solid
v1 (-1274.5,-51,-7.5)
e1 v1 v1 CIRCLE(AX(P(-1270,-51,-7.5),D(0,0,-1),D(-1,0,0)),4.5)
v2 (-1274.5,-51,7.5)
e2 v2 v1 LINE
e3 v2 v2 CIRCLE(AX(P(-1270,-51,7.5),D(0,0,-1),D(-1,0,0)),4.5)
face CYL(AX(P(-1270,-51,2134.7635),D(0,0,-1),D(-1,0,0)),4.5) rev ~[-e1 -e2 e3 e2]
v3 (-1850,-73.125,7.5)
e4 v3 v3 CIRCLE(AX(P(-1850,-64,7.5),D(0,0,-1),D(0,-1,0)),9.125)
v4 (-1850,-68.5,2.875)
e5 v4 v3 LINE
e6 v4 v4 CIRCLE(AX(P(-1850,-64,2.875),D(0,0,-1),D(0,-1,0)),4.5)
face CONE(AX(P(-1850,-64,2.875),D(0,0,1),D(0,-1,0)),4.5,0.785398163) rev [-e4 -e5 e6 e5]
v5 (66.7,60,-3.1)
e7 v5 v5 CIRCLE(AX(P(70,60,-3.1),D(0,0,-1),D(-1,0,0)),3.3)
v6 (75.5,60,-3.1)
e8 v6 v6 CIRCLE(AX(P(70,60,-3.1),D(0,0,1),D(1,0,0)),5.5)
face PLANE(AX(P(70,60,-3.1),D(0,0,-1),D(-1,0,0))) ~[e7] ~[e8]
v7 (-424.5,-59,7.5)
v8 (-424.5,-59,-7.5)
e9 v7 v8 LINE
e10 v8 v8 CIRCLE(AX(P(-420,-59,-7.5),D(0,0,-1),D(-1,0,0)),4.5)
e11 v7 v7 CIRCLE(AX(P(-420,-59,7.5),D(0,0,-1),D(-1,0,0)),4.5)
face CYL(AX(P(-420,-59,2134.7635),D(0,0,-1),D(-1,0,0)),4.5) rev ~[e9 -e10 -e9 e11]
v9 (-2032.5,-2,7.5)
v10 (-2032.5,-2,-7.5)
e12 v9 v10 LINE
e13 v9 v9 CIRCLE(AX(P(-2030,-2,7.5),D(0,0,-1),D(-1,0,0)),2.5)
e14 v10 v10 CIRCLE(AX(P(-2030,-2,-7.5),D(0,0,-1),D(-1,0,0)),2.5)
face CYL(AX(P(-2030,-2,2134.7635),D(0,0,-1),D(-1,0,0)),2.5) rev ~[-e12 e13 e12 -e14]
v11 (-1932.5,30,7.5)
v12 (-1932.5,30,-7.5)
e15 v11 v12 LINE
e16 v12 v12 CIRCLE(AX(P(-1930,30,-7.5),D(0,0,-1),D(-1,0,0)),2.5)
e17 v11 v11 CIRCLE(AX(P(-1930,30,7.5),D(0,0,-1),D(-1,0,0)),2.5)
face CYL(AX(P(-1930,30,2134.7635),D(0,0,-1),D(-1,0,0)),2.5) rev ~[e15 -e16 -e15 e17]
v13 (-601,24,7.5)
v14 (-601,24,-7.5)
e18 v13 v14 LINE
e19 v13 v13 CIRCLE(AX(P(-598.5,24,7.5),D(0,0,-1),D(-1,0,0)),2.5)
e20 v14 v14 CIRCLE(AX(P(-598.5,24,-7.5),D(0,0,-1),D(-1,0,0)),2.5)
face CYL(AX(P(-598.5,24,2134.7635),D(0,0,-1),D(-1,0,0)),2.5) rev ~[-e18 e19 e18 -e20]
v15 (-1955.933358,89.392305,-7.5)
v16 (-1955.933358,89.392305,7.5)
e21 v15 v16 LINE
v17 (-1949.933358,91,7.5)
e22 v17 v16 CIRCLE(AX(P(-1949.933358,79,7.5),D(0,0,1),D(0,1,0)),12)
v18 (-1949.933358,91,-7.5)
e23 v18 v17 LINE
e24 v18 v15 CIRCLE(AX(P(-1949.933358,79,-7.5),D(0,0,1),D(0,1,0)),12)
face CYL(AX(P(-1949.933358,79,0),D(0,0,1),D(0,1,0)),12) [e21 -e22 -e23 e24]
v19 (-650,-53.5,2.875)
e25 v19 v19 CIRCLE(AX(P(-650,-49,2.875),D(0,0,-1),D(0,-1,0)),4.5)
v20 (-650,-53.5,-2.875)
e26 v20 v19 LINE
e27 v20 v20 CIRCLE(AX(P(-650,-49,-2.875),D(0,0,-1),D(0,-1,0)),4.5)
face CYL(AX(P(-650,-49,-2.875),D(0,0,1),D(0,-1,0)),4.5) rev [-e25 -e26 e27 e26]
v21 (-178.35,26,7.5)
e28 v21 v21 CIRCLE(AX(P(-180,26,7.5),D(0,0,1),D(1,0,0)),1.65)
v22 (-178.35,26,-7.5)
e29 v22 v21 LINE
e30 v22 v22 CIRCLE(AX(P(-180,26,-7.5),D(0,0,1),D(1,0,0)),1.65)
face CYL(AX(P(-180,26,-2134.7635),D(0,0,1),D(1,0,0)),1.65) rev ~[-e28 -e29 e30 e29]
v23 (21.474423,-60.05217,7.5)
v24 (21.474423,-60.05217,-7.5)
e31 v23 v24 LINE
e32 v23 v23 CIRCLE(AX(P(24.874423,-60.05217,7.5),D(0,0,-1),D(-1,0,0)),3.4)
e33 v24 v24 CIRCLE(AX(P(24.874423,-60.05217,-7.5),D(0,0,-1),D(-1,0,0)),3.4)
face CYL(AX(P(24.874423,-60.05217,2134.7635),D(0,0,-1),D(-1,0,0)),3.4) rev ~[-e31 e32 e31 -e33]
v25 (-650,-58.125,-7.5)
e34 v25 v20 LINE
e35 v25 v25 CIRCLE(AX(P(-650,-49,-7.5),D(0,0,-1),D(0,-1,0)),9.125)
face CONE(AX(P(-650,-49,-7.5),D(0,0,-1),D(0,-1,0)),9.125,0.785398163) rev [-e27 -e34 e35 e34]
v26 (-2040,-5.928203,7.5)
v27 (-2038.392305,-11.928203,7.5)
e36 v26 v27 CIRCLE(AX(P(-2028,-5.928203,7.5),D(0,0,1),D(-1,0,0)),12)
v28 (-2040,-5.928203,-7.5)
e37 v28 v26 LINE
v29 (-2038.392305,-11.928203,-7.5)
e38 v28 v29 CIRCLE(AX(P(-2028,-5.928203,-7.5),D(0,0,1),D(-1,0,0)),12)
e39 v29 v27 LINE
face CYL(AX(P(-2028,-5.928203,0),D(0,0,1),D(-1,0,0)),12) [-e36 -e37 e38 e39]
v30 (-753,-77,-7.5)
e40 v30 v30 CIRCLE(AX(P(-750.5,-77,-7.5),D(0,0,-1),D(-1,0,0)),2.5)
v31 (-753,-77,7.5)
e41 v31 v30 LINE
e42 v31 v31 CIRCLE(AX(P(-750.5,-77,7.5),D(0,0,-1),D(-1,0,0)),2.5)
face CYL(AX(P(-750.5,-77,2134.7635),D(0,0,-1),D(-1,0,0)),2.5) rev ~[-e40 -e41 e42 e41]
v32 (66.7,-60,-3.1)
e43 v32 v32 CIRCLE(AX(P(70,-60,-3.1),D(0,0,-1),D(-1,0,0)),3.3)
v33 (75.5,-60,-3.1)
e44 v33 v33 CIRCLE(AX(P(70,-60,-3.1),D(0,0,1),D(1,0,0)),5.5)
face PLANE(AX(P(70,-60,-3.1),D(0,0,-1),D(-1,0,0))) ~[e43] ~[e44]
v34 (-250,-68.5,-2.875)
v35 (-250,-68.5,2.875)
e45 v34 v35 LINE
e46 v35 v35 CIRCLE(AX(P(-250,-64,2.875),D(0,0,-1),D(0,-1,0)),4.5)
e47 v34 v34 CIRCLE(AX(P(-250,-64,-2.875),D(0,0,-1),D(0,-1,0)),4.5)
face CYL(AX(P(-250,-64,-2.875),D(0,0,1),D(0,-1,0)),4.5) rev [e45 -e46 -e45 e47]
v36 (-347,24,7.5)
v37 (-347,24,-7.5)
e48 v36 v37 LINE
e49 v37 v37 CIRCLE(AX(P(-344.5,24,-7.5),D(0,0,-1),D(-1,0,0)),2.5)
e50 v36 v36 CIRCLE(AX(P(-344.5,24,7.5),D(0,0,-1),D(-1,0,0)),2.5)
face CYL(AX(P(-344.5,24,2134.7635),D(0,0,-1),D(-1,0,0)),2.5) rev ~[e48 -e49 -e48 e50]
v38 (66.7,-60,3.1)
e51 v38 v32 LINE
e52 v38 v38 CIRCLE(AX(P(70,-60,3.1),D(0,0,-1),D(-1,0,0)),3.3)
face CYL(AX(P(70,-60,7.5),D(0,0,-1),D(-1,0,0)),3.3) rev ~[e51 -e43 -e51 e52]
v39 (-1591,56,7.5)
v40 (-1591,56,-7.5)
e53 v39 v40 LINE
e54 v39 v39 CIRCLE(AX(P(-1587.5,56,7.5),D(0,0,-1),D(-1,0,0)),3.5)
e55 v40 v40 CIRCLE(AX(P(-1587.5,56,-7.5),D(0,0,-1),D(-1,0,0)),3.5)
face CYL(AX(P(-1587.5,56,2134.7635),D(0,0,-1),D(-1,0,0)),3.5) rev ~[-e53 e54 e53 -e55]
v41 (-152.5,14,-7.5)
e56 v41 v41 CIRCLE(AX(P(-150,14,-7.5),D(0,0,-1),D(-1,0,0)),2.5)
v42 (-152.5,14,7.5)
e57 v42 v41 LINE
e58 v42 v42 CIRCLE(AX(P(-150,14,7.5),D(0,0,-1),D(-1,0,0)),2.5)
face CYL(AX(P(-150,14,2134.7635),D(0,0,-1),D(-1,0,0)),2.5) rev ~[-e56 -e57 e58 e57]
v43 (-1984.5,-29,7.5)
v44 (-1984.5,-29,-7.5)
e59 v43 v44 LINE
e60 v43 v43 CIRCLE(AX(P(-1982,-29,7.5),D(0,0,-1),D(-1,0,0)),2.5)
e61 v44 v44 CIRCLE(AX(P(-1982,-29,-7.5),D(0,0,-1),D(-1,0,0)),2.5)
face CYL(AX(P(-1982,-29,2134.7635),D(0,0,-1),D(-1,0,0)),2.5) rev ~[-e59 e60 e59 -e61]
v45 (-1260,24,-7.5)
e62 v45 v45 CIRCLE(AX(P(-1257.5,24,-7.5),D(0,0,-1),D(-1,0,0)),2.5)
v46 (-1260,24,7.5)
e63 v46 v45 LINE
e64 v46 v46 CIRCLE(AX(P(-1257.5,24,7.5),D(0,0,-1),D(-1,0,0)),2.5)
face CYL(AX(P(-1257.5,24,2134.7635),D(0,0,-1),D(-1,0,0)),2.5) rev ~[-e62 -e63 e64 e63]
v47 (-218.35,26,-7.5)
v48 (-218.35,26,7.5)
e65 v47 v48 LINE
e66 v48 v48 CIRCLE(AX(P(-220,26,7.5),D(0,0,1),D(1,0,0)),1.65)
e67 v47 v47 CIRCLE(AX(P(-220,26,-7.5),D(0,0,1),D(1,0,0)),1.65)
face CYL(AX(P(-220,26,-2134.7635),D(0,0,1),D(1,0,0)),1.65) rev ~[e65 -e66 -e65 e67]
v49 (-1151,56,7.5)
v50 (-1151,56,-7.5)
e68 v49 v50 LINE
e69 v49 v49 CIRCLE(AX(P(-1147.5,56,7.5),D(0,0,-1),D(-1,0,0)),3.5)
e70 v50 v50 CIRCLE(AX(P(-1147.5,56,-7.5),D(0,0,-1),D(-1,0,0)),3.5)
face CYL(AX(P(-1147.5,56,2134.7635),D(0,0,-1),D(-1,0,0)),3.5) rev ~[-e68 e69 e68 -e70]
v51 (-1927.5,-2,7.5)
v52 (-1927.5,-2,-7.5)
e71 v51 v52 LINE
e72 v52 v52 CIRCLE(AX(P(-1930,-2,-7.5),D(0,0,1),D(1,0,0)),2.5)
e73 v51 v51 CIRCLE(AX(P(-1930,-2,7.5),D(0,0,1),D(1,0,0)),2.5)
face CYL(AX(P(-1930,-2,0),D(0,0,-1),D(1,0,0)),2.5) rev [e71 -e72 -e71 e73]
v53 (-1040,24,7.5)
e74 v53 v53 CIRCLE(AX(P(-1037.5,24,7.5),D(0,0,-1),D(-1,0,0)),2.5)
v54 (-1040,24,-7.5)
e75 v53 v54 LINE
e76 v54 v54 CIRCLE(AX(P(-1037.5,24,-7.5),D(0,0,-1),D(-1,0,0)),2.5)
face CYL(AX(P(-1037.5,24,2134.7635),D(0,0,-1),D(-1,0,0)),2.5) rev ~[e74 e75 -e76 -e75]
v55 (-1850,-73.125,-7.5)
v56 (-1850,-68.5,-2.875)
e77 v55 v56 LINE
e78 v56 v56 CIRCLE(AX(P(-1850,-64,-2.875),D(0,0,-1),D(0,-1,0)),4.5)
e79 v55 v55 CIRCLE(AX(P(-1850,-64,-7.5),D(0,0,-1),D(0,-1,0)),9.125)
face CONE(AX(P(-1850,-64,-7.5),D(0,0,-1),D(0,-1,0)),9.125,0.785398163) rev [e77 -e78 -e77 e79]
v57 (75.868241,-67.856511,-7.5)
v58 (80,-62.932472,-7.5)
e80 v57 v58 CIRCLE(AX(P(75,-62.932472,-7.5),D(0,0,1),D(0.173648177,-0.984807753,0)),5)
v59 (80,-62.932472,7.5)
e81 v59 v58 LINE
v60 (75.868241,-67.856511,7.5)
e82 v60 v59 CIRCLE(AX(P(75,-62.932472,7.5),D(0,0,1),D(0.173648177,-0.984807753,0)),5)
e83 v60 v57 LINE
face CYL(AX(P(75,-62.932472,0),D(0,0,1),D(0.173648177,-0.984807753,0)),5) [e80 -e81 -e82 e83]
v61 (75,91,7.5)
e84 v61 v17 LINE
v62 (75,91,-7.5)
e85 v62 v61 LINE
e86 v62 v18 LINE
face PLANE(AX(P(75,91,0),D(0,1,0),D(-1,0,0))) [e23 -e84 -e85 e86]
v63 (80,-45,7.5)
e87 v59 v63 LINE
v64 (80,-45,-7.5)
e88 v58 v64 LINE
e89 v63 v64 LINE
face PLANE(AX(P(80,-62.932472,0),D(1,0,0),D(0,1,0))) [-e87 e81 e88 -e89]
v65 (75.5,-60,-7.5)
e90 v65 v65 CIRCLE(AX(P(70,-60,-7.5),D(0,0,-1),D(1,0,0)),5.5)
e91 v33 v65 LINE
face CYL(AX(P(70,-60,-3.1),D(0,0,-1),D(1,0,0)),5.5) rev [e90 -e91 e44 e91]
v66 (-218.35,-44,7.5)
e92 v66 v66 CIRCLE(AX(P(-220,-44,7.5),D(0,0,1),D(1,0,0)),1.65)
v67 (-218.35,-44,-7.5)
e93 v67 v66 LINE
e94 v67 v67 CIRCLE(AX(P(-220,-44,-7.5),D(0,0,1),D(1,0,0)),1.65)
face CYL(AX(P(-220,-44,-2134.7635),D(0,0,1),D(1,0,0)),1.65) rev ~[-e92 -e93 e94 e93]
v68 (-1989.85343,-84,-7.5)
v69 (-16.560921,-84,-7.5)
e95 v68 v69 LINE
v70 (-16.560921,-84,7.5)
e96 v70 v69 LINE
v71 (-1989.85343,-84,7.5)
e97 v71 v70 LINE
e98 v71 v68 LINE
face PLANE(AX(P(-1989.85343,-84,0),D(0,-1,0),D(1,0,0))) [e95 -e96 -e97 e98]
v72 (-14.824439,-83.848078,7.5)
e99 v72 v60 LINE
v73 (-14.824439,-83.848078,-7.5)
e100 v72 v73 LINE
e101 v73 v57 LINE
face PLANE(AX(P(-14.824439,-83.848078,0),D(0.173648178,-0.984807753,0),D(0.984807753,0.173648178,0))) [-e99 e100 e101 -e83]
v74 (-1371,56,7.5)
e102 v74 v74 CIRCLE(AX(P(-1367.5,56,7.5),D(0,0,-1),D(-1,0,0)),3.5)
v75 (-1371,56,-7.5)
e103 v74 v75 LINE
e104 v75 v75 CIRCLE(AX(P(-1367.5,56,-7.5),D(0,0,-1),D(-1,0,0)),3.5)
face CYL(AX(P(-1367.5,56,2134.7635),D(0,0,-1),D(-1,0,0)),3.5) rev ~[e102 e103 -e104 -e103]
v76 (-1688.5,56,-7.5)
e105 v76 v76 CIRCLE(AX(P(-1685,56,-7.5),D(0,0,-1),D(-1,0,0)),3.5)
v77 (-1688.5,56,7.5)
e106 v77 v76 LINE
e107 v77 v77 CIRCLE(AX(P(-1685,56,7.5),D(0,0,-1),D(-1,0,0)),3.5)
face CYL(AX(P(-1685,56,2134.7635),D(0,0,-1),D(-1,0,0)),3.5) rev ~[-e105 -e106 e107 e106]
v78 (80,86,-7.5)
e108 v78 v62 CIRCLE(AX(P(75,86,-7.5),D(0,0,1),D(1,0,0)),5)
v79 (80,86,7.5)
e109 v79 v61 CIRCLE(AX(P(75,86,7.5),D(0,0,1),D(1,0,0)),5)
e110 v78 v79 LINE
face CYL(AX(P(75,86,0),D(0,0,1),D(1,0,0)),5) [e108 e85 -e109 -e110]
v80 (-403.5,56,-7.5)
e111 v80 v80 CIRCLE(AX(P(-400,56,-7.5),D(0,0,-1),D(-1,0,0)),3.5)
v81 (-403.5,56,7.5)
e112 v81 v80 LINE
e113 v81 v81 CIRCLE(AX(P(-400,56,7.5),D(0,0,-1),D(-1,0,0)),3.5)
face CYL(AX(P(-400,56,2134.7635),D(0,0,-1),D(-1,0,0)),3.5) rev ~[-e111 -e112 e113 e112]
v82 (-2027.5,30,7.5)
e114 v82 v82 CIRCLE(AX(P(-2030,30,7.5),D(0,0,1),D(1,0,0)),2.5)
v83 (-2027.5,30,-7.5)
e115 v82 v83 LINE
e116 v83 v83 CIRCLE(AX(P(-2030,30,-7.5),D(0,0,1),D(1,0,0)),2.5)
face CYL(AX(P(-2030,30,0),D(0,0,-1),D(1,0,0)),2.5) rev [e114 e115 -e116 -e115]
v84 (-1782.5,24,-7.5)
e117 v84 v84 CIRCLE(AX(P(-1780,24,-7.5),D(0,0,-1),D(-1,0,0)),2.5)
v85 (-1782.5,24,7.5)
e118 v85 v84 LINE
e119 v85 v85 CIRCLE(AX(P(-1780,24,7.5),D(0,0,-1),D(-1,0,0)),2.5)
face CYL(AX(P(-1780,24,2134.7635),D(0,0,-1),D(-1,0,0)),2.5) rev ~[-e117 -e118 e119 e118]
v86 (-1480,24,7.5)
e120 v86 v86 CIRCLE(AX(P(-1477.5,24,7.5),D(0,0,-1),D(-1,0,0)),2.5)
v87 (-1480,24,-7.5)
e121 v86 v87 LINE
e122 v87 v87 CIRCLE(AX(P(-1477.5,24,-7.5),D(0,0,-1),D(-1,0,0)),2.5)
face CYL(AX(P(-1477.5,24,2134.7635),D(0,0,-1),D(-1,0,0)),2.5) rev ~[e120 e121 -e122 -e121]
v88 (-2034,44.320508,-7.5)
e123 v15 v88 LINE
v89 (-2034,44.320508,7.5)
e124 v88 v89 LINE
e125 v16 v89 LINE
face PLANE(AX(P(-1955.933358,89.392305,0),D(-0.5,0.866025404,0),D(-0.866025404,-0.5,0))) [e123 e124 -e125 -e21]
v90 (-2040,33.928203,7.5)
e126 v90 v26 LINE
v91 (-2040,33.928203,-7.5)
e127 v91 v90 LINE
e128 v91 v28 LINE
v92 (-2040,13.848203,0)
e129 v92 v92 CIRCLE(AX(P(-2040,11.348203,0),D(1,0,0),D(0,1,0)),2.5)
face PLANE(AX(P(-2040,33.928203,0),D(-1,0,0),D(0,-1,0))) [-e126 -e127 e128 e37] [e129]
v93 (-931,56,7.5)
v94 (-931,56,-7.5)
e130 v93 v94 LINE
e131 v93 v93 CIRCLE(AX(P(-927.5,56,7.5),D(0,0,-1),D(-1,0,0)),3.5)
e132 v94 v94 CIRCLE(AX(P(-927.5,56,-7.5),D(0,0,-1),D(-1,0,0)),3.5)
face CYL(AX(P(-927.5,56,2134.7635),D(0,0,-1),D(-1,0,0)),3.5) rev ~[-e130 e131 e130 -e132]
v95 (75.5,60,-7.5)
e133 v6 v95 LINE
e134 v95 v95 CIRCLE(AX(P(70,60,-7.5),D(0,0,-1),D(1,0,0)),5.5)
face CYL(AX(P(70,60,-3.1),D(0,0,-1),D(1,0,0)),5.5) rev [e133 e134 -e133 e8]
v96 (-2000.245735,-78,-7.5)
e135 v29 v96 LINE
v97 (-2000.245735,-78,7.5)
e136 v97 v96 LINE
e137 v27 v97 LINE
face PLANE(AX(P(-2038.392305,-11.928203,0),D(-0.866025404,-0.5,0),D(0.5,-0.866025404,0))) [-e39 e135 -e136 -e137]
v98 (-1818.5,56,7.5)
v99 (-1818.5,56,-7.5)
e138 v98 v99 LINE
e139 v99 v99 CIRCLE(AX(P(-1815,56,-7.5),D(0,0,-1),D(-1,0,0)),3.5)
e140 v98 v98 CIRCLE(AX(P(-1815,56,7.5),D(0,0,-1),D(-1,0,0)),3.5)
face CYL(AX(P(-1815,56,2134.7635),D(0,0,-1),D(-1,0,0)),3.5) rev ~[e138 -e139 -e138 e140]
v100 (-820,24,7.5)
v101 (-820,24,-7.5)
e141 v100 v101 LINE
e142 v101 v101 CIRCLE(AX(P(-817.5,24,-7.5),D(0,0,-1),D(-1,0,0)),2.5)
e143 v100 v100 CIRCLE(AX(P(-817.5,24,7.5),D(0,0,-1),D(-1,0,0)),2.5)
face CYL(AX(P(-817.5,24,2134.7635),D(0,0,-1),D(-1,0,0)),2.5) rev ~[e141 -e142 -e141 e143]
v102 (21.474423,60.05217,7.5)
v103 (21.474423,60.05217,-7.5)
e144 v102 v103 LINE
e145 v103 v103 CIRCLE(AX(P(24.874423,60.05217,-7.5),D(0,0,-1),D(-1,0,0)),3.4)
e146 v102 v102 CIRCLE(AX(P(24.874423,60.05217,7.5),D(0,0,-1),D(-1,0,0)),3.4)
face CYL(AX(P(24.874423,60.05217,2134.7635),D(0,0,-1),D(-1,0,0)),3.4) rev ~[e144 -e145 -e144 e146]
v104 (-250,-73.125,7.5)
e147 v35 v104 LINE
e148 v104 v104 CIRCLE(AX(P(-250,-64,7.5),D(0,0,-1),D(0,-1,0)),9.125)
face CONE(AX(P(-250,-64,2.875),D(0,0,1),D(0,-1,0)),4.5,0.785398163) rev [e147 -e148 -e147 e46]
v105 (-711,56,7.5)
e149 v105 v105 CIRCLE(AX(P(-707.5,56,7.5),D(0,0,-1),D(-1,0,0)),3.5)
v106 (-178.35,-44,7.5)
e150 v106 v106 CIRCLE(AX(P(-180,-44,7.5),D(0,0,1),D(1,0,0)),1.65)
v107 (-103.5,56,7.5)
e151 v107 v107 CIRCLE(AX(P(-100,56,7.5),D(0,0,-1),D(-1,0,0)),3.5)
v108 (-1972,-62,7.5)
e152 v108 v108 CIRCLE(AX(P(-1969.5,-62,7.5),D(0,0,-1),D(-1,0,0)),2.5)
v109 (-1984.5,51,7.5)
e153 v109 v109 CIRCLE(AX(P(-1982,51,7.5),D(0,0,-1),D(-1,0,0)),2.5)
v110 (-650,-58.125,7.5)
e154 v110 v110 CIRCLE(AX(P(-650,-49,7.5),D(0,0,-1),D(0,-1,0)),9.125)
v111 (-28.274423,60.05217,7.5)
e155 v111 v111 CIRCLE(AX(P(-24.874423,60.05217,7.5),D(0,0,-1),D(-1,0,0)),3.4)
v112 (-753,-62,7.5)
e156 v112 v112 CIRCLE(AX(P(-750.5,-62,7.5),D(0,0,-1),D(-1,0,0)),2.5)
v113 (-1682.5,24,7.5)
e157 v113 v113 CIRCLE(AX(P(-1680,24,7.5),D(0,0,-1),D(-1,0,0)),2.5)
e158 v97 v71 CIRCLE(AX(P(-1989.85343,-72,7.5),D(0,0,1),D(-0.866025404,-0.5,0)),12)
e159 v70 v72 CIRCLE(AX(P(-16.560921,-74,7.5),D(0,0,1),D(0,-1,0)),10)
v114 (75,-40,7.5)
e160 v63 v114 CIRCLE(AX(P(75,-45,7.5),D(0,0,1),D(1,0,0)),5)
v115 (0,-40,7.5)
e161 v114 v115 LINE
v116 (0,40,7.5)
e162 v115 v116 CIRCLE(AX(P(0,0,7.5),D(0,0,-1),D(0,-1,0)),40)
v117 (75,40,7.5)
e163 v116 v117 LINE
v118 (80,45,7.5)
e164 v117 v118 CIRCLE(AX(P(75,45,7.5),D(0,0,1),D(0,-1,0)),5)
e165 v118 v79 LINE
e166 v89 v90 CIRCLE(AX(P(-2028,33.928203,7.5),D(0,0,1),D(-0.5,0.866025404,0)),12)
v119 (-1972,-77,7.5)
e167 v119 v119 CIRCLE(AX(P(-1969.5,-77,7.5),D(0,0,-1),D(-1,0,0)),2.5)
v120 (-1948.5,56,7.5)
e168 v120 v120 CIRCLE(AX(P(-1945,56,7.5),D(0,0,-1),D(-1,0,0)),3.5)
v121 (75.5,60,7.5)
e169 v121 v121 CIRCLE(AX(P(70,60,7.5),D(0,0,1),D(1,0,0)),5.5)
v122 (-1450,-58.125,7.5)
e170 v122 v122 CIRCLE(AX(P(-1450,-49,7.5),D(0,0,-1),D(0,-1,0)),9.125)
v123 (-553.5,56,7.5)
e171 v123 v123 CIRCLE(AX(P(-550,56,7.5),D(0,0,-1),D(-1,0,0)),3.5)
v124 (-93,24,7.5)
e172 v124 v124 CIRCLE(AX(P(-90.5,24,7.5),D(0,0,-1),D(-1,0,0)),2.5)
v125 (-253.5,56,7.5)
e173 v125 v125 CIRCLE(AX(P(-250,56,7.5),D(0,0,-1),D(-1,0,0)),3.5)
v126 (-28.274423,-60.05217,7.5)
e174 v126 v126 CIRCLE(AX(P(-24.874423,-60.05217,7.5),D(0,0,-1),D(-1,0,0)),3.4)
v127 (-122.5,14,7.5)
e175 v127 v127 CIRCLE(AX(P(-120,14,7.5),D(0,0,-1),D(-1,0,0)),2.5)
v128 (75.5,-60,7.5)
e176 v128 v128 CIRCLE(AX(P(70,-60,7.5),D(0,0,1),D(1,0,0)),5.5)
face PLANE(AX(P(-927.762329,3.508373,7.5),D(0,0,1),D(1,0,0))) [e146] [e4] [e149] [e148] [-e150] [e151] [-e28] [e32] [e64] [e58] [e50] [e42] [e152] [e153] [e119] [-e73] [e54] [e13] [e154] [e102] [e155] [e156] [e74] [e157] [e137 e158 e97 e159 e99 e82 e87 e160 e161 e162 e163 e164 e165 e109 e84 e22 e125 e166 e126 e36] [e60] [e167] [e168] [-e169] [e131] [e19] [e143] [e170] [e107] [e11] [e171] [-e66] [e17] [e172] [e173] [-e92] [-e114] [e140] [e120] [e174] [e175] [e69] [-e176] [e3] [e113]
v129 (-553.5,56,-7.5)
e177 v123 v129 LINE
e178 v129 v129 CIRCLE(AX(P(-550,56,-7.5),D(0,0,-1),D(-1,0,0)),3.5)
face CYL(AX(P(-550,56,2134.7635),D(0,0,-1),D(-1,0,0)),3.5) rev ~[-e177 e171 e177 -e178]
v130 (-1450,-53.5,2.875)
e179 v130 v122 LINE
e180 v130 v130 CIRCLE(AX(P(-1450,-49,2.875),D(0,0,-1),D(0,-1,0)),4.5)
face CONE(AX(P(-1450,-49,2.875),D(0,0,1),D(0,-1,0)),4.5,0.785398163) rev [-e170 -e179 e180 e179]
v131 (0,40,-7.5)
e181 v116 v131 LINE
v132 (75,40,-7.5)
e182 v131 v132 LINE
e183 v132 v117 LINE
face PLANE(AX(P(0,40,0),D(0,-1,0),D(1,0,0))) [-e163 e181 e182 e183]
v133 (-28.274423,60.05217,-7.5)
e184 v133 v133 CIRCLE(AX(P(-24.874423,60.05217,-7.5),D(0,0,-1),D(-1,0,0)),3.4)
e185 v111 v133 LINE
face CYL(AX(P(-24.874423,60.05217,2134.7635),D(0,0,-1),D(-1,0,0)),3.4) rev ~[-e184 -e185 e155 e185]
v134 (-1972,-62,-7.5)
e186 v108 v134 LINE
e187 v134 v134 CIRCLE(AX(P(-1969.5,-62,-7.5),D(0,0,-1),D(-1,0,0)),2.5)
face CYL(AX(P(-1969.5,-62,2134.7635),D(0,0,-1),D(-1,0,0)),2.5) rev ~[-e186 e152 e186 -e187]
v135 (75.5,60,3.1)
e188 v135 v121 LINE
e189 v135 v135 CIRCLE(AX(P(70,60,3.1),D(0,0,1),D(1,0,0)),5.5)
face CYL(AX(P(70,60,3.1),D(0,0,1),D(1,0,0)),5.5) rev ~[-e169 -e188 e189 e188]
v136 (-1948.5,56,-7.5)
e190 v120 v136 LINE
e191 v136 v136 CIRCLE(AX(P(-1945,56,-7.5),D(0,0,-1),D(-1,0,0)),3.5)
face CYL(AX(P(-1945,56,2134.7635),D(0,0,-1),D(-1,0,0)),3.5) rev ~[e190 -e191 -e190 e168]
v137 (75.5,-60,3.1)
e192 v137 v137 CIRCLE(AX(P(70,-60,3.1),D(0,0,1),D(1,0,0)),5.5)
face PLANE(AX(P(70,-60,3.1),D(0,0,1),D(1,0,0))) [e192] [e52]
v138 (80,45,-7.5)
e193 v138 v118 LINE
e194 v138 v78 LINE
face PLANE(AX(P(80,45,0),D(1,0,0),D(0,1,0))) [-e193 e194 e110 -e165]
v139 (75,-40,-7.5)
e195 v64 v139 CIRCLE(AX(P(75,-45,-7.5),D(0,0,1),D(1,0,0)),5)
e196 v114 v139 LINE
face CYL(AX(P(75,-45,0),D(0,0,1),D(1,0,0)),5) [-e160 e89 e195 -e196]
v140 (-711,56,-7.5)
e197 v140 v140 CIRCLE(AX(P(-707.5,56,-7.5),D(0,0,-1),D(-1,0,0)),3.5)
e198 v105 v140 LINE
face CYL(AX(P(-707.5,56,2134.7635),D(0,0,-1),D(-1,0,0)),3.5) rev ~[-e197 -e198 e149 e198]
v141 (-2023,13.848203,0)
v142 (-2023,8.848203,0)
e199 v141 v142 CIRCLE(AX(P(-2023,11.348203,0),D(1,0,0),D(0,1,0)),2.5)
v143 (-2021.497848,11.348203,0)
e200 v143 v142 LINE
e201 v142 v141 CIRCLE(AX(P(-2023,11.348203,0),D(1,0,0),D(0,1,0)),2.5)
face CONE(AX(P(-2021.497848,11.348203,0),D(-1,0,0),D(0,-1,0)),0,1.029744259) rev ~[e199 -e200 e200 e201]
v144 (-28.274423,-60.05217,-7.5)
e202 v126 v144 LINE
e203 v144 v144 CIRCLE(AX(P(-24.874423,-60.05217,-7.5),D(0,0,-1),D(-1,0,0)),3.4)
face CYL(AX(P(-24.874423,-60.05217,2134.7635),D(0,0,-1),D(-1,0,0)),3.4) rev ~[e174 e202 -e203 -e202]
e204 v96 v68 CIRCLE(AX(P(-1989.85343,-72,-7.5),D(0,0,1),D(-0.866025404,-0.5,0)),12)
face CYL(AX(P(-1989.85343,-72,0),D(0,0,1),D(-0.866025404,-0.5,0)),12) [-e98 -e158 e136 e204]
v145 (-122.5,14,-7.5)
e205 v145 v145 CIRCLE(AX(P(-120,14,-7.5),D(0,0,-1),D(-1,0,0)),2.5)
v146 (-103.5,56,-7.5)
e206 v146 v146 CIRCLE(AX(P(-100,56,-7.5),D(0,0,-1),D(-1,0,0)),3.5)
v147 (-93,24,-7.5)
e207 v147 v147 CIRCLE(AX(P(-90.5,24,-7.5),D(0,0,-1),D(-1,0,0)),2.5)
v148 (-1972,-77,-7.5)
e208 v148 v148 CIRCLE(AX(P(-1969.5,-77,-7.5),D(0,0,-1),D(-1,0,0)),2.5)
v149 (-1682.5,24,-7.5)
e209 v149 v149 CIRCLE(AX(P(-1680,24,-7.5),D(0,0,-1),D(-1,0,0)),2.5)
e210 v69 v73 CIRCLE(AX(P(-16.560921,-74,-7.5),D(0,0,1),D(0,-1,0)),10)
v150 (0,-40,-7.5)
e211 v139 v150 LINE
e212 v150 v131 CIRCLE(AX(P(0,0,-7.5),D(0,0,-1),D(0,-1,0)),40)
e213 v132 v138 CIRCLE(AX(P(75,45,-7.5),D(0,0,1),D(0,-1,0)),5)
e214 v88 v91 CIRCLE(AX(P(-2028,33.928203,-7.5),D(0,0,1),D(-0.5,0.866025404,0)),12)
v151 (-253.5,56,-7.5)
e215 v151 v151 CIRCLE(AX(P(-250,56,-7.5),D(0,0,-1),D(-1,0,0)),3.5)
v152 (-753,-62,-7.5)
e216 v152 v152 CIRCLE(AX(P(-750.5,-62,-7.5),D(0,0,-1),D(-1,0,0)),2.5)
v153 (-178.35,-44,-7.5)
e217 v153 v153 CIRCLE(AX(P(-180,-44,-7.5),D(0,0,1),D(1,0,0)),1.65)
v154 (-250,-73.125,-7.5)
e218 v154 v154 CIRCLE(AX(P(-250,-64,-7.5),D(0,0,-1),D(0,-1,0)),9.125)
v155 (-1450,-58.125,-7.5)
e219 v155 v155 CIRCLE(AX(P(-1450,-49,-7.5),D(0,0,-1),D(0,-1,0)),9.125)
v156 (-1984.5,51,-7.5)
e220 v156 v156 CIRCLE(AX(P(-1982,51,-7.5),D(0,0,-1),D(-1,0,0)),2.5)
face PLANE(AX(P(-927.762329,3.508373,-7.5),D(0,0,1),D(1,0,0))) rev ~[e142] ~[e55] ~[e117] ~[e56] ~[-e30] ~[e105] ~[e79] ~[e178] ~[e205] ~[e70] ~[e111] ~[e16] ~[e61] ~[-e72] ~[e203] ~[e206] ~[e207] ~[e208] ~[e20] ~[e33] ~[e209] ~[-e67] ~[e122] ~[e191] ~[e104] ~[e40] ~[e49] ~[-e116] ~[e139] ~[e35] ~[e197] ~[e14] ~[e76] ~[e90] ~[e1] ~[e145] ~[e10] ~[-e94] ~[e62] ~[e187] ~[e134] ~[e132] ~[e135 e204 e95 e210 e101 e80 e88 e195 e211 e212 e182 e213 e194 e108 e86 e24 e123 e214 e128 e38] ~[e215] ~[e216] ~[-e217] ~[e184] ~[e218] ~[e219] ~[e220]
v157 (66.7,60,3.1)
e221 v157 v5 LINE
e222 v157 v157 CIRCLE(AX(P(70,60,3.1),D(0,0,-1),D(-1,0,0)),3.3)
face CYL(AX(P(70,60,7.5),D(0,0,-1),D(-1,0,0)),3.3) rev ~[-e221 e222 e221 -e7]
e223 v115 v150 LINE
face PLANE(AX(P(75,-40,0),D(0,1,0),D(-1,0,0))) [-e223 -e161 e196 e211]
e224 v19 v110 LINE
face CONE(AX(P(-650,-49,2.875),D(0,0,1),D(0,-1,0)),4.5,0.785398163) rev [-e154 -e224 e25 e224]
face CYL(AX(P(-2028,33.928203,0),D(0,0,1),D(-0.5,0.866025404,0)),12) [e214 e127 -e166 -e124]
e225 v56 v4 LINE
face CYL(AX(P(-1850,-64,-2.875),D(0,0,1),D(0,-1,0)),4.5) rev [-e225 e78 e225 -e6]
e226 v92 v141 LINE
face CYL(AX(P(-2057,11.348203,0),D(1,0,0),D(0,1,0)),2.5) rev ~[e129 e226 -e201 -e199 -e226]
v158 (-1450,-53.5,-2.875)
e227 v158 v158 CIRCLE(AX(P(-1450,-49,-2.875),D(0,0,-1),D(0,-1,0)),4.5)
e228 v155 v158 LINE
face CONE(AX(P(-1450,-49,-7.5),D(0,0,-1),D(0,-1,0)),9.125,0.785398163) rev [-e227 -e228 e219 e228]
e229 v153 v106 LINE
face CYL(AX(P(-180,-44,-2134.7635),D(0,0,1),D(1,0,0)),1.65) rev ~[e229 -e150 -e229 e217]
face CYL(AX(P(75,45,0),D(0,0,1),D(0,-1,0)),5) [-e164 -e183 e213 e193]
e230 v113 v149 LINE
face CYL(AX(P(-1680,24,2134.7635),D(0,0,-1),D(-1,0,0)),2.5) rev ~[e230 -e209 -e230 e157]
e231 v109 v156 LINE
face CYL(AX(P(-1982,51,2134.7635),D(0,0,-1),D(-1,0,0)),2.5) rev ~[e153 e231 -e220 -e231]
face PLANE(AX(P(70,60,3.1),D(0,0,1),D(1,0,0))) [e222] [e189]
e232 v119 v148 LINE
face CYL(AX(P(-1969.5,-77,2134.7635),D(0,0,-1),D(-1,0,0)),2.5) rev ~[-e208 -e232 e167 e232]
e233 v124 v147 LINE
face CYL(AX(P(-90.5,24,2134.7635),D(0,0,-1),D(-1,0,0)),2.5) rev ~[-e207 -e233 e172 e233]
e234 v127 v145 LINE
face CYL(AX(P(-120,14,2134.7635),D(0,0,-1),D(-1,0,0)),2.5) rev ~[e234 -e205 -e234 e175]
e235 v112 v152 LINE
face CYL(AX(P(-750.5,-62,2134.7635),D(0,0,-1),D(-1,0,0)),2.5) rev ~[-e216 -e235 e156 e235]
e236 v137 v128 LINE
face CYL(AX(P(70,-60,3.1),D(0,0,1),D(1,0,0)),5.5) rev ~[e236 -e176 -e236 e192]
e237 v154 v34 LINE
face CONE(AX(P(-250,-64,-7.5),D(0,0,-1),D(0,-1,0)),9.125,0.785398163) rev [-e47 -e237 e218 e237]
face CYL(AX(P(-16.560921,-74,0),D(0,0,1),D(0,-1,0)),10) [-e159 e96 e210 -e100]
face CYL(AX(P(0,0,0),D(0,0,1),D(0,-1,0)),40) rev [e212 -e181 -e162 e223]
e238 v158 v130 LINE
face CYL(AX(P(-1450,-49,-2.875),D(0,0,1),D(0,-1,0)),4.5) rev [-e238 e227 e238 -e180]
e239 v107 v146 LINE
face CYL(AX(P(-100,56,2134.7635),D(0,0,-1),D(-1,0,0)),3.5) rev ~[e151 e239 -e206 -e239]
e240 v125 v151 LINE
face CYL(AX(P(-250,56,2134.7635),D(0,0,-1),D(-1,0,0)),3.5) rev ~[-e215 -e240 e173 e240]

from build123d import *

# Parameters (mm, degrees)
SKIZZE1_R                                            = 2.5
AUFSATZ_LINEAR_AUSTRAGEN1_DEPTH                      = 7.5
M6_GEWINDEBOHRUNG1_D                                 = 5
M8_GEWINDEBOHRUNG1_D                                 = 6.8
FORMSENKUNG_F_R_M8_SENKSCHRAUBE_MIT_2_COUNT          = 2
FORMSENKUNG_F_R_M8_SENKSCHRAUBE_MIT_2_PITCH          = 800
FORMSENKUNG_F_R_M8_SENKSCHRAUBE_MIT_3_COUNT          = 2
FORMSENKUNG_F_R_M8_SENKSCHRAUBE_MIT_3_PITCH          = 1200.093746338
FORMSENKUNG_F_R_M8_SENKSCHRAUBE_MIT_4_COUNT          = 2
FORMSENKUNG_F_R_M8_SENKSCHRAUBE_MIT_4_PITCH          = 400.281151193
F_5_0_5_DURCHMESSER_BOHRUNG1_D                       = 5
STIRNSENKUNG_F_R_M6_ZYLINDERSCHRAUBE_MIT_D           = 6.6
STIRNSENKUNG_F_R_M6_ZYLINDERSCHRAUBE_MIT_CBORE_D     = 11
STIRNSENKUNG_F_R_M6_ZYLINDERSCHRAUBE_MIT_CBORE_DEPTH = 4.4
F_7_0_7_DURCHMESSER_BOHRUNG1_D                       = 7
F_9_0_9_DURCHMESSER_BOHRUNG1_D                       = 9
M6_GEWINDEBOHRUNG2_D                                 = 5
M6_GEWINDEBOHRUNG2_DEPTH                             = 17
M6_GEWINDEBOHRUNG2_TIP                               = 1.502151548
M4_GEWINDEBOHRUNG1_D                                 = 3.3


with BuildPart() as part:
    # Skizze1 → Aufsatz-Linear austragen1 (new, symmetric)
    with BuildSketch(Plane.XY):
        with BuildLine():
            Line((0, 40), (75, 40))
            ThreePointArc((75, 40), (78.535533906, 41.464466094), (80, 45))
            Line((80, 45), (80, 86))
            ThreePointArc((80, 86), (78.535533906, 89.535533906), (75, 91))
            Line((75, 91), (-1949.933358006, 91))
            ThreePointArc((-1949.933358006, 91), (-1953.039186548, 90.591109915), (-1955.933358006, 89.392304845))
            Line((-1955.933358006, 89.392304845), (-2034, 44.320508076))
            ThreePointArc((-2034, 44.320508076), (-2038.392304845, 39.92820323), (-2040, 33.92820323))
            Line((-2040, 33.92820323), (-2040, -5.92820323))
            ThreePointArc((-2040, -5.92820323), (-2039.591109915, -9.034031772), (-2038.392304845, -11.92820323))
            Line((-2038.392304845, -11.92820323), (-2000.245735195, -78))
            ThreePointArc((-2000.245735195, -78), (-1995.853430349, -82.392304845), (-1989.853430349, -84))
            Line((-1989.853430349, -84), (-16.560920831, -84))
            ThreePointArc((-16.560920831, -84), (-15.689363404, -83.961946981), (-14.824439055, -83.84807753))
            Line((-14.824439055, -83.84807753), (75.868240888, -67.856511103))
            ThreePointArc((75.868240888, -67.856511103), (78.830222216, -66.146410387), (80, -62.932472338))
            Line((80, -62.932472338), (80, -45))
            ThreePointArc((80, -45), (78.535533906, -41.464466094), (75, -40))
            Line((75, -40), (0, -40))
            ThreePointArc((0, -40), (-40, 0), (0, 40))
        make_face()
        with Locations((-2030, 30)):
            Circle(SKIZZE1_R, mode=Mode.SUBTRACT)
        with Locations((-1930, -2)):
            Circle(SKIZZE1_R, mode=Mode.SUBTRACT)
    extrude(amount=AUFSATZ_LINEAR_AUSTRAGEN1_DEPTH, both=True)

    # M6 Gewindebohrung1 (through all)
    with Locations(Plane.XY.offset(7.5)):
        with Locations((-120, 14), (-150, 14), (-1930, 30), (-2030, -2), (-1982, 51), (-1982, -29), (-750.5, -77), (-750.5, -62), (-1969.5, -77), (-1969.5, -62)):
            Hole(M6_GEWINDEBOHRUNG1_D / 2)

    # M8 Gewindebohrung1 (through all)
    with Locations(Plane.XY.offset(7.5)):
        with Locations((-24.874423104, -60.052169613), (-24.874423104, 60.052169613), (24.874423104, 60.052169613), (24.874423104, -60.052169613)):
            Hole(M8_GEWINDEBOHRUNG1_D / 2)

    # Skizze4 → Formsenkung für M8 Senkschraube mit Innensechskant1 (revolve, cut)
    with BuildSketch(Plane(origin=(-650, -49, 7.5), x_dir=(0, -1, 0), z_dir=(1, 0, 0))):
        Polygon((0, 0), (0, 15), (9.125, 15), (4.5, 10.375), (4.5, 4.625), (9.125, 0), align=None)
    formsenkung_f_r_m8_senkschraube_mit_inne = revolve(axis=Axis((-650, -49, 13.85), (0, 0, -1)), mode=Mode.SUBTRACT)

    # Formsenkung f_r M8 Senkschraube mit  2: Formsenkung für M8 Senkschraube mit Innensechskant1 ×2
    with Locations(*[(-i * FORMSENKUNG_F_R_M8_SENKSCHRAUBE_MIT_2_PITCH, 0, 0) for i in range(1, FORMSENKUNG_F_R_M8_SENKSCHRAUBE_MIT_2_COUNT)]):
        add(formsenkung_f_r_m8_senkschraube_mit_inne, mode=Mode.SUBTRACT)

    # Formsenkung f_r M8 Senkschraube mit  3: Formsenkung für M8 Senkschraube mit Innensechskant1 ×2
    with Locations(*[Vector(-0.9999218841540816, -0.01249902355192602, 0) * (i * FORMSENKUNG_F_R_M8_SENKSCHRAUBE_MIT_3_PITCH) for i in range(1, FORMSENKUNG_F_R_M8_SENKSCHRAUBE_MIT_3_COUNT)]):
        add(formsenkung_f_r_m8_senkschraube_mit_inne, mode=Mode.SUBTRACT)

    # Formsenkung f_r M8 Senkschraube mit  4: Formsenkung für M8 Senkschraube mit Innensechskant1 ×2
    with Locations(*[Vector(0.9992976157091807, -0.03747366058909428, 0) * (i * FORMSENKUNG_F_R_M8_SENKSCHRAUBE_MIT_4_PITCH) for i in range(1, FORMSENKUNG_F_R_M8_SENKSCHRAUBE_MIT_4_COUNT)]):
        add(formsenkung_f_r_m8_senkschraube_mit_inne, mode=Mode.SUBTRACT)

    # Ø5.0 (5) Durchmesser Bohrung1 (through all)
    with Locations(Plane.XY.offset(7.5)):
        with Locations((-1257.5, 24), (-1780, 24), (-1680, 24), (-1477.5, 24), (-90.5, 24), (-344.5, 24), (-598.5, 24), (-817.5, 24), (-1037.5, 24)):
            Hole(F_5_0_5_DURCHMESSER_BOHRUNG1_D / 2)

    # Stirnsenkung für M6 Zylinderschraube mit Innensechskant1 (through all)
    with Locations(Plane.XY.offset(7.5)):
        with Locations((70, 60), (70, -60)):
            stirnsenkung_f_r_m6_zylinderschraube_mit = CounterBoreHole(STIRNSENKUNG_F_R_M6_ZYLINDERSCHRAUBE_MIT_D / 2, STIRNSENKUNG_F_R_M6_ZYLINDERSCHRAUBE_MIT_CBORE_D / 2, STIRNSENKUNG_F_R_M6_ZYLINDERSCHRAUBE_MIT_CBORE_DEPTH)

    # Spiegeln1: Stirnsenkung für M6 Zylinderschraube mit Innensechskant1 across plane
    add(stirnsenkung_f_r_m6_zylinderschraube_mit.mirror(Plane.XY), mode=Mode.SUBTRACT)

    # Ø7.0 (7) Durchmesser Bohrung1 (through all)
    with Locations(Plane.XY.offset(7.5)):
        with Locations((-100, 56), (-250, 56), (-400, 56), (-550, 56), (-707.5, 56), (-927.5, 56), (-1147.5, 56), (-1367.5, 56), (-1587.5, 56), (-1685, 56), (-1815, 56), (-1945, 56)):
            Hole(F_7_0_7_DURCHMESSER_BOHRUNG1_D / 2)

    # Ø9.0 (9) Durchmesser Bohrung1 (through all)
    with Locations(Plane.XY.offset(7.5)):
        with Locations((-1270, -51), (-420, -59)):
            Hole(F_9_0_9_DURCHMESSER_BOHRUNG1_D / 2)

    # M6 Gewindebohrung2
    with Locations(Plane(origin=(-2040, -1949, 0), x_dir=(0, -1, 0), z_dir=(-1, 0, 0))):
        with Locations((-1960.34820323, 0)):
            Hole(M6_GEWINDEBOHRUNG2_D / 2, depth=M6_GEWINDEBOHRUNG2_DEPTH)
            with Locations((0, 0, -(M6_GEWINDEBOHRUNG2_DEPTH + M6_GEWINDEBOHRUNG2_TIP / 2))):  # 118° drill point
                Cone(0, M6_GEWINDEBOHRUNG2_D / 2, M6_GEWINDEBOHRUNG2_TIP, mode=Mode.SUBTRACT)

    # M4 Gewindebohrung1 (through all)
    with Locations(Plane(origin=(0, 0, -7.5), x_dir=(-1, 0, 0), z_dir=(0, 0, -1))):
        with Locations((180, 26), (220, 26), (220, -44), (180, -44)):
            Hole(M4_GEWINDEBOHRUNG1_D / 2)


solid = part.part
